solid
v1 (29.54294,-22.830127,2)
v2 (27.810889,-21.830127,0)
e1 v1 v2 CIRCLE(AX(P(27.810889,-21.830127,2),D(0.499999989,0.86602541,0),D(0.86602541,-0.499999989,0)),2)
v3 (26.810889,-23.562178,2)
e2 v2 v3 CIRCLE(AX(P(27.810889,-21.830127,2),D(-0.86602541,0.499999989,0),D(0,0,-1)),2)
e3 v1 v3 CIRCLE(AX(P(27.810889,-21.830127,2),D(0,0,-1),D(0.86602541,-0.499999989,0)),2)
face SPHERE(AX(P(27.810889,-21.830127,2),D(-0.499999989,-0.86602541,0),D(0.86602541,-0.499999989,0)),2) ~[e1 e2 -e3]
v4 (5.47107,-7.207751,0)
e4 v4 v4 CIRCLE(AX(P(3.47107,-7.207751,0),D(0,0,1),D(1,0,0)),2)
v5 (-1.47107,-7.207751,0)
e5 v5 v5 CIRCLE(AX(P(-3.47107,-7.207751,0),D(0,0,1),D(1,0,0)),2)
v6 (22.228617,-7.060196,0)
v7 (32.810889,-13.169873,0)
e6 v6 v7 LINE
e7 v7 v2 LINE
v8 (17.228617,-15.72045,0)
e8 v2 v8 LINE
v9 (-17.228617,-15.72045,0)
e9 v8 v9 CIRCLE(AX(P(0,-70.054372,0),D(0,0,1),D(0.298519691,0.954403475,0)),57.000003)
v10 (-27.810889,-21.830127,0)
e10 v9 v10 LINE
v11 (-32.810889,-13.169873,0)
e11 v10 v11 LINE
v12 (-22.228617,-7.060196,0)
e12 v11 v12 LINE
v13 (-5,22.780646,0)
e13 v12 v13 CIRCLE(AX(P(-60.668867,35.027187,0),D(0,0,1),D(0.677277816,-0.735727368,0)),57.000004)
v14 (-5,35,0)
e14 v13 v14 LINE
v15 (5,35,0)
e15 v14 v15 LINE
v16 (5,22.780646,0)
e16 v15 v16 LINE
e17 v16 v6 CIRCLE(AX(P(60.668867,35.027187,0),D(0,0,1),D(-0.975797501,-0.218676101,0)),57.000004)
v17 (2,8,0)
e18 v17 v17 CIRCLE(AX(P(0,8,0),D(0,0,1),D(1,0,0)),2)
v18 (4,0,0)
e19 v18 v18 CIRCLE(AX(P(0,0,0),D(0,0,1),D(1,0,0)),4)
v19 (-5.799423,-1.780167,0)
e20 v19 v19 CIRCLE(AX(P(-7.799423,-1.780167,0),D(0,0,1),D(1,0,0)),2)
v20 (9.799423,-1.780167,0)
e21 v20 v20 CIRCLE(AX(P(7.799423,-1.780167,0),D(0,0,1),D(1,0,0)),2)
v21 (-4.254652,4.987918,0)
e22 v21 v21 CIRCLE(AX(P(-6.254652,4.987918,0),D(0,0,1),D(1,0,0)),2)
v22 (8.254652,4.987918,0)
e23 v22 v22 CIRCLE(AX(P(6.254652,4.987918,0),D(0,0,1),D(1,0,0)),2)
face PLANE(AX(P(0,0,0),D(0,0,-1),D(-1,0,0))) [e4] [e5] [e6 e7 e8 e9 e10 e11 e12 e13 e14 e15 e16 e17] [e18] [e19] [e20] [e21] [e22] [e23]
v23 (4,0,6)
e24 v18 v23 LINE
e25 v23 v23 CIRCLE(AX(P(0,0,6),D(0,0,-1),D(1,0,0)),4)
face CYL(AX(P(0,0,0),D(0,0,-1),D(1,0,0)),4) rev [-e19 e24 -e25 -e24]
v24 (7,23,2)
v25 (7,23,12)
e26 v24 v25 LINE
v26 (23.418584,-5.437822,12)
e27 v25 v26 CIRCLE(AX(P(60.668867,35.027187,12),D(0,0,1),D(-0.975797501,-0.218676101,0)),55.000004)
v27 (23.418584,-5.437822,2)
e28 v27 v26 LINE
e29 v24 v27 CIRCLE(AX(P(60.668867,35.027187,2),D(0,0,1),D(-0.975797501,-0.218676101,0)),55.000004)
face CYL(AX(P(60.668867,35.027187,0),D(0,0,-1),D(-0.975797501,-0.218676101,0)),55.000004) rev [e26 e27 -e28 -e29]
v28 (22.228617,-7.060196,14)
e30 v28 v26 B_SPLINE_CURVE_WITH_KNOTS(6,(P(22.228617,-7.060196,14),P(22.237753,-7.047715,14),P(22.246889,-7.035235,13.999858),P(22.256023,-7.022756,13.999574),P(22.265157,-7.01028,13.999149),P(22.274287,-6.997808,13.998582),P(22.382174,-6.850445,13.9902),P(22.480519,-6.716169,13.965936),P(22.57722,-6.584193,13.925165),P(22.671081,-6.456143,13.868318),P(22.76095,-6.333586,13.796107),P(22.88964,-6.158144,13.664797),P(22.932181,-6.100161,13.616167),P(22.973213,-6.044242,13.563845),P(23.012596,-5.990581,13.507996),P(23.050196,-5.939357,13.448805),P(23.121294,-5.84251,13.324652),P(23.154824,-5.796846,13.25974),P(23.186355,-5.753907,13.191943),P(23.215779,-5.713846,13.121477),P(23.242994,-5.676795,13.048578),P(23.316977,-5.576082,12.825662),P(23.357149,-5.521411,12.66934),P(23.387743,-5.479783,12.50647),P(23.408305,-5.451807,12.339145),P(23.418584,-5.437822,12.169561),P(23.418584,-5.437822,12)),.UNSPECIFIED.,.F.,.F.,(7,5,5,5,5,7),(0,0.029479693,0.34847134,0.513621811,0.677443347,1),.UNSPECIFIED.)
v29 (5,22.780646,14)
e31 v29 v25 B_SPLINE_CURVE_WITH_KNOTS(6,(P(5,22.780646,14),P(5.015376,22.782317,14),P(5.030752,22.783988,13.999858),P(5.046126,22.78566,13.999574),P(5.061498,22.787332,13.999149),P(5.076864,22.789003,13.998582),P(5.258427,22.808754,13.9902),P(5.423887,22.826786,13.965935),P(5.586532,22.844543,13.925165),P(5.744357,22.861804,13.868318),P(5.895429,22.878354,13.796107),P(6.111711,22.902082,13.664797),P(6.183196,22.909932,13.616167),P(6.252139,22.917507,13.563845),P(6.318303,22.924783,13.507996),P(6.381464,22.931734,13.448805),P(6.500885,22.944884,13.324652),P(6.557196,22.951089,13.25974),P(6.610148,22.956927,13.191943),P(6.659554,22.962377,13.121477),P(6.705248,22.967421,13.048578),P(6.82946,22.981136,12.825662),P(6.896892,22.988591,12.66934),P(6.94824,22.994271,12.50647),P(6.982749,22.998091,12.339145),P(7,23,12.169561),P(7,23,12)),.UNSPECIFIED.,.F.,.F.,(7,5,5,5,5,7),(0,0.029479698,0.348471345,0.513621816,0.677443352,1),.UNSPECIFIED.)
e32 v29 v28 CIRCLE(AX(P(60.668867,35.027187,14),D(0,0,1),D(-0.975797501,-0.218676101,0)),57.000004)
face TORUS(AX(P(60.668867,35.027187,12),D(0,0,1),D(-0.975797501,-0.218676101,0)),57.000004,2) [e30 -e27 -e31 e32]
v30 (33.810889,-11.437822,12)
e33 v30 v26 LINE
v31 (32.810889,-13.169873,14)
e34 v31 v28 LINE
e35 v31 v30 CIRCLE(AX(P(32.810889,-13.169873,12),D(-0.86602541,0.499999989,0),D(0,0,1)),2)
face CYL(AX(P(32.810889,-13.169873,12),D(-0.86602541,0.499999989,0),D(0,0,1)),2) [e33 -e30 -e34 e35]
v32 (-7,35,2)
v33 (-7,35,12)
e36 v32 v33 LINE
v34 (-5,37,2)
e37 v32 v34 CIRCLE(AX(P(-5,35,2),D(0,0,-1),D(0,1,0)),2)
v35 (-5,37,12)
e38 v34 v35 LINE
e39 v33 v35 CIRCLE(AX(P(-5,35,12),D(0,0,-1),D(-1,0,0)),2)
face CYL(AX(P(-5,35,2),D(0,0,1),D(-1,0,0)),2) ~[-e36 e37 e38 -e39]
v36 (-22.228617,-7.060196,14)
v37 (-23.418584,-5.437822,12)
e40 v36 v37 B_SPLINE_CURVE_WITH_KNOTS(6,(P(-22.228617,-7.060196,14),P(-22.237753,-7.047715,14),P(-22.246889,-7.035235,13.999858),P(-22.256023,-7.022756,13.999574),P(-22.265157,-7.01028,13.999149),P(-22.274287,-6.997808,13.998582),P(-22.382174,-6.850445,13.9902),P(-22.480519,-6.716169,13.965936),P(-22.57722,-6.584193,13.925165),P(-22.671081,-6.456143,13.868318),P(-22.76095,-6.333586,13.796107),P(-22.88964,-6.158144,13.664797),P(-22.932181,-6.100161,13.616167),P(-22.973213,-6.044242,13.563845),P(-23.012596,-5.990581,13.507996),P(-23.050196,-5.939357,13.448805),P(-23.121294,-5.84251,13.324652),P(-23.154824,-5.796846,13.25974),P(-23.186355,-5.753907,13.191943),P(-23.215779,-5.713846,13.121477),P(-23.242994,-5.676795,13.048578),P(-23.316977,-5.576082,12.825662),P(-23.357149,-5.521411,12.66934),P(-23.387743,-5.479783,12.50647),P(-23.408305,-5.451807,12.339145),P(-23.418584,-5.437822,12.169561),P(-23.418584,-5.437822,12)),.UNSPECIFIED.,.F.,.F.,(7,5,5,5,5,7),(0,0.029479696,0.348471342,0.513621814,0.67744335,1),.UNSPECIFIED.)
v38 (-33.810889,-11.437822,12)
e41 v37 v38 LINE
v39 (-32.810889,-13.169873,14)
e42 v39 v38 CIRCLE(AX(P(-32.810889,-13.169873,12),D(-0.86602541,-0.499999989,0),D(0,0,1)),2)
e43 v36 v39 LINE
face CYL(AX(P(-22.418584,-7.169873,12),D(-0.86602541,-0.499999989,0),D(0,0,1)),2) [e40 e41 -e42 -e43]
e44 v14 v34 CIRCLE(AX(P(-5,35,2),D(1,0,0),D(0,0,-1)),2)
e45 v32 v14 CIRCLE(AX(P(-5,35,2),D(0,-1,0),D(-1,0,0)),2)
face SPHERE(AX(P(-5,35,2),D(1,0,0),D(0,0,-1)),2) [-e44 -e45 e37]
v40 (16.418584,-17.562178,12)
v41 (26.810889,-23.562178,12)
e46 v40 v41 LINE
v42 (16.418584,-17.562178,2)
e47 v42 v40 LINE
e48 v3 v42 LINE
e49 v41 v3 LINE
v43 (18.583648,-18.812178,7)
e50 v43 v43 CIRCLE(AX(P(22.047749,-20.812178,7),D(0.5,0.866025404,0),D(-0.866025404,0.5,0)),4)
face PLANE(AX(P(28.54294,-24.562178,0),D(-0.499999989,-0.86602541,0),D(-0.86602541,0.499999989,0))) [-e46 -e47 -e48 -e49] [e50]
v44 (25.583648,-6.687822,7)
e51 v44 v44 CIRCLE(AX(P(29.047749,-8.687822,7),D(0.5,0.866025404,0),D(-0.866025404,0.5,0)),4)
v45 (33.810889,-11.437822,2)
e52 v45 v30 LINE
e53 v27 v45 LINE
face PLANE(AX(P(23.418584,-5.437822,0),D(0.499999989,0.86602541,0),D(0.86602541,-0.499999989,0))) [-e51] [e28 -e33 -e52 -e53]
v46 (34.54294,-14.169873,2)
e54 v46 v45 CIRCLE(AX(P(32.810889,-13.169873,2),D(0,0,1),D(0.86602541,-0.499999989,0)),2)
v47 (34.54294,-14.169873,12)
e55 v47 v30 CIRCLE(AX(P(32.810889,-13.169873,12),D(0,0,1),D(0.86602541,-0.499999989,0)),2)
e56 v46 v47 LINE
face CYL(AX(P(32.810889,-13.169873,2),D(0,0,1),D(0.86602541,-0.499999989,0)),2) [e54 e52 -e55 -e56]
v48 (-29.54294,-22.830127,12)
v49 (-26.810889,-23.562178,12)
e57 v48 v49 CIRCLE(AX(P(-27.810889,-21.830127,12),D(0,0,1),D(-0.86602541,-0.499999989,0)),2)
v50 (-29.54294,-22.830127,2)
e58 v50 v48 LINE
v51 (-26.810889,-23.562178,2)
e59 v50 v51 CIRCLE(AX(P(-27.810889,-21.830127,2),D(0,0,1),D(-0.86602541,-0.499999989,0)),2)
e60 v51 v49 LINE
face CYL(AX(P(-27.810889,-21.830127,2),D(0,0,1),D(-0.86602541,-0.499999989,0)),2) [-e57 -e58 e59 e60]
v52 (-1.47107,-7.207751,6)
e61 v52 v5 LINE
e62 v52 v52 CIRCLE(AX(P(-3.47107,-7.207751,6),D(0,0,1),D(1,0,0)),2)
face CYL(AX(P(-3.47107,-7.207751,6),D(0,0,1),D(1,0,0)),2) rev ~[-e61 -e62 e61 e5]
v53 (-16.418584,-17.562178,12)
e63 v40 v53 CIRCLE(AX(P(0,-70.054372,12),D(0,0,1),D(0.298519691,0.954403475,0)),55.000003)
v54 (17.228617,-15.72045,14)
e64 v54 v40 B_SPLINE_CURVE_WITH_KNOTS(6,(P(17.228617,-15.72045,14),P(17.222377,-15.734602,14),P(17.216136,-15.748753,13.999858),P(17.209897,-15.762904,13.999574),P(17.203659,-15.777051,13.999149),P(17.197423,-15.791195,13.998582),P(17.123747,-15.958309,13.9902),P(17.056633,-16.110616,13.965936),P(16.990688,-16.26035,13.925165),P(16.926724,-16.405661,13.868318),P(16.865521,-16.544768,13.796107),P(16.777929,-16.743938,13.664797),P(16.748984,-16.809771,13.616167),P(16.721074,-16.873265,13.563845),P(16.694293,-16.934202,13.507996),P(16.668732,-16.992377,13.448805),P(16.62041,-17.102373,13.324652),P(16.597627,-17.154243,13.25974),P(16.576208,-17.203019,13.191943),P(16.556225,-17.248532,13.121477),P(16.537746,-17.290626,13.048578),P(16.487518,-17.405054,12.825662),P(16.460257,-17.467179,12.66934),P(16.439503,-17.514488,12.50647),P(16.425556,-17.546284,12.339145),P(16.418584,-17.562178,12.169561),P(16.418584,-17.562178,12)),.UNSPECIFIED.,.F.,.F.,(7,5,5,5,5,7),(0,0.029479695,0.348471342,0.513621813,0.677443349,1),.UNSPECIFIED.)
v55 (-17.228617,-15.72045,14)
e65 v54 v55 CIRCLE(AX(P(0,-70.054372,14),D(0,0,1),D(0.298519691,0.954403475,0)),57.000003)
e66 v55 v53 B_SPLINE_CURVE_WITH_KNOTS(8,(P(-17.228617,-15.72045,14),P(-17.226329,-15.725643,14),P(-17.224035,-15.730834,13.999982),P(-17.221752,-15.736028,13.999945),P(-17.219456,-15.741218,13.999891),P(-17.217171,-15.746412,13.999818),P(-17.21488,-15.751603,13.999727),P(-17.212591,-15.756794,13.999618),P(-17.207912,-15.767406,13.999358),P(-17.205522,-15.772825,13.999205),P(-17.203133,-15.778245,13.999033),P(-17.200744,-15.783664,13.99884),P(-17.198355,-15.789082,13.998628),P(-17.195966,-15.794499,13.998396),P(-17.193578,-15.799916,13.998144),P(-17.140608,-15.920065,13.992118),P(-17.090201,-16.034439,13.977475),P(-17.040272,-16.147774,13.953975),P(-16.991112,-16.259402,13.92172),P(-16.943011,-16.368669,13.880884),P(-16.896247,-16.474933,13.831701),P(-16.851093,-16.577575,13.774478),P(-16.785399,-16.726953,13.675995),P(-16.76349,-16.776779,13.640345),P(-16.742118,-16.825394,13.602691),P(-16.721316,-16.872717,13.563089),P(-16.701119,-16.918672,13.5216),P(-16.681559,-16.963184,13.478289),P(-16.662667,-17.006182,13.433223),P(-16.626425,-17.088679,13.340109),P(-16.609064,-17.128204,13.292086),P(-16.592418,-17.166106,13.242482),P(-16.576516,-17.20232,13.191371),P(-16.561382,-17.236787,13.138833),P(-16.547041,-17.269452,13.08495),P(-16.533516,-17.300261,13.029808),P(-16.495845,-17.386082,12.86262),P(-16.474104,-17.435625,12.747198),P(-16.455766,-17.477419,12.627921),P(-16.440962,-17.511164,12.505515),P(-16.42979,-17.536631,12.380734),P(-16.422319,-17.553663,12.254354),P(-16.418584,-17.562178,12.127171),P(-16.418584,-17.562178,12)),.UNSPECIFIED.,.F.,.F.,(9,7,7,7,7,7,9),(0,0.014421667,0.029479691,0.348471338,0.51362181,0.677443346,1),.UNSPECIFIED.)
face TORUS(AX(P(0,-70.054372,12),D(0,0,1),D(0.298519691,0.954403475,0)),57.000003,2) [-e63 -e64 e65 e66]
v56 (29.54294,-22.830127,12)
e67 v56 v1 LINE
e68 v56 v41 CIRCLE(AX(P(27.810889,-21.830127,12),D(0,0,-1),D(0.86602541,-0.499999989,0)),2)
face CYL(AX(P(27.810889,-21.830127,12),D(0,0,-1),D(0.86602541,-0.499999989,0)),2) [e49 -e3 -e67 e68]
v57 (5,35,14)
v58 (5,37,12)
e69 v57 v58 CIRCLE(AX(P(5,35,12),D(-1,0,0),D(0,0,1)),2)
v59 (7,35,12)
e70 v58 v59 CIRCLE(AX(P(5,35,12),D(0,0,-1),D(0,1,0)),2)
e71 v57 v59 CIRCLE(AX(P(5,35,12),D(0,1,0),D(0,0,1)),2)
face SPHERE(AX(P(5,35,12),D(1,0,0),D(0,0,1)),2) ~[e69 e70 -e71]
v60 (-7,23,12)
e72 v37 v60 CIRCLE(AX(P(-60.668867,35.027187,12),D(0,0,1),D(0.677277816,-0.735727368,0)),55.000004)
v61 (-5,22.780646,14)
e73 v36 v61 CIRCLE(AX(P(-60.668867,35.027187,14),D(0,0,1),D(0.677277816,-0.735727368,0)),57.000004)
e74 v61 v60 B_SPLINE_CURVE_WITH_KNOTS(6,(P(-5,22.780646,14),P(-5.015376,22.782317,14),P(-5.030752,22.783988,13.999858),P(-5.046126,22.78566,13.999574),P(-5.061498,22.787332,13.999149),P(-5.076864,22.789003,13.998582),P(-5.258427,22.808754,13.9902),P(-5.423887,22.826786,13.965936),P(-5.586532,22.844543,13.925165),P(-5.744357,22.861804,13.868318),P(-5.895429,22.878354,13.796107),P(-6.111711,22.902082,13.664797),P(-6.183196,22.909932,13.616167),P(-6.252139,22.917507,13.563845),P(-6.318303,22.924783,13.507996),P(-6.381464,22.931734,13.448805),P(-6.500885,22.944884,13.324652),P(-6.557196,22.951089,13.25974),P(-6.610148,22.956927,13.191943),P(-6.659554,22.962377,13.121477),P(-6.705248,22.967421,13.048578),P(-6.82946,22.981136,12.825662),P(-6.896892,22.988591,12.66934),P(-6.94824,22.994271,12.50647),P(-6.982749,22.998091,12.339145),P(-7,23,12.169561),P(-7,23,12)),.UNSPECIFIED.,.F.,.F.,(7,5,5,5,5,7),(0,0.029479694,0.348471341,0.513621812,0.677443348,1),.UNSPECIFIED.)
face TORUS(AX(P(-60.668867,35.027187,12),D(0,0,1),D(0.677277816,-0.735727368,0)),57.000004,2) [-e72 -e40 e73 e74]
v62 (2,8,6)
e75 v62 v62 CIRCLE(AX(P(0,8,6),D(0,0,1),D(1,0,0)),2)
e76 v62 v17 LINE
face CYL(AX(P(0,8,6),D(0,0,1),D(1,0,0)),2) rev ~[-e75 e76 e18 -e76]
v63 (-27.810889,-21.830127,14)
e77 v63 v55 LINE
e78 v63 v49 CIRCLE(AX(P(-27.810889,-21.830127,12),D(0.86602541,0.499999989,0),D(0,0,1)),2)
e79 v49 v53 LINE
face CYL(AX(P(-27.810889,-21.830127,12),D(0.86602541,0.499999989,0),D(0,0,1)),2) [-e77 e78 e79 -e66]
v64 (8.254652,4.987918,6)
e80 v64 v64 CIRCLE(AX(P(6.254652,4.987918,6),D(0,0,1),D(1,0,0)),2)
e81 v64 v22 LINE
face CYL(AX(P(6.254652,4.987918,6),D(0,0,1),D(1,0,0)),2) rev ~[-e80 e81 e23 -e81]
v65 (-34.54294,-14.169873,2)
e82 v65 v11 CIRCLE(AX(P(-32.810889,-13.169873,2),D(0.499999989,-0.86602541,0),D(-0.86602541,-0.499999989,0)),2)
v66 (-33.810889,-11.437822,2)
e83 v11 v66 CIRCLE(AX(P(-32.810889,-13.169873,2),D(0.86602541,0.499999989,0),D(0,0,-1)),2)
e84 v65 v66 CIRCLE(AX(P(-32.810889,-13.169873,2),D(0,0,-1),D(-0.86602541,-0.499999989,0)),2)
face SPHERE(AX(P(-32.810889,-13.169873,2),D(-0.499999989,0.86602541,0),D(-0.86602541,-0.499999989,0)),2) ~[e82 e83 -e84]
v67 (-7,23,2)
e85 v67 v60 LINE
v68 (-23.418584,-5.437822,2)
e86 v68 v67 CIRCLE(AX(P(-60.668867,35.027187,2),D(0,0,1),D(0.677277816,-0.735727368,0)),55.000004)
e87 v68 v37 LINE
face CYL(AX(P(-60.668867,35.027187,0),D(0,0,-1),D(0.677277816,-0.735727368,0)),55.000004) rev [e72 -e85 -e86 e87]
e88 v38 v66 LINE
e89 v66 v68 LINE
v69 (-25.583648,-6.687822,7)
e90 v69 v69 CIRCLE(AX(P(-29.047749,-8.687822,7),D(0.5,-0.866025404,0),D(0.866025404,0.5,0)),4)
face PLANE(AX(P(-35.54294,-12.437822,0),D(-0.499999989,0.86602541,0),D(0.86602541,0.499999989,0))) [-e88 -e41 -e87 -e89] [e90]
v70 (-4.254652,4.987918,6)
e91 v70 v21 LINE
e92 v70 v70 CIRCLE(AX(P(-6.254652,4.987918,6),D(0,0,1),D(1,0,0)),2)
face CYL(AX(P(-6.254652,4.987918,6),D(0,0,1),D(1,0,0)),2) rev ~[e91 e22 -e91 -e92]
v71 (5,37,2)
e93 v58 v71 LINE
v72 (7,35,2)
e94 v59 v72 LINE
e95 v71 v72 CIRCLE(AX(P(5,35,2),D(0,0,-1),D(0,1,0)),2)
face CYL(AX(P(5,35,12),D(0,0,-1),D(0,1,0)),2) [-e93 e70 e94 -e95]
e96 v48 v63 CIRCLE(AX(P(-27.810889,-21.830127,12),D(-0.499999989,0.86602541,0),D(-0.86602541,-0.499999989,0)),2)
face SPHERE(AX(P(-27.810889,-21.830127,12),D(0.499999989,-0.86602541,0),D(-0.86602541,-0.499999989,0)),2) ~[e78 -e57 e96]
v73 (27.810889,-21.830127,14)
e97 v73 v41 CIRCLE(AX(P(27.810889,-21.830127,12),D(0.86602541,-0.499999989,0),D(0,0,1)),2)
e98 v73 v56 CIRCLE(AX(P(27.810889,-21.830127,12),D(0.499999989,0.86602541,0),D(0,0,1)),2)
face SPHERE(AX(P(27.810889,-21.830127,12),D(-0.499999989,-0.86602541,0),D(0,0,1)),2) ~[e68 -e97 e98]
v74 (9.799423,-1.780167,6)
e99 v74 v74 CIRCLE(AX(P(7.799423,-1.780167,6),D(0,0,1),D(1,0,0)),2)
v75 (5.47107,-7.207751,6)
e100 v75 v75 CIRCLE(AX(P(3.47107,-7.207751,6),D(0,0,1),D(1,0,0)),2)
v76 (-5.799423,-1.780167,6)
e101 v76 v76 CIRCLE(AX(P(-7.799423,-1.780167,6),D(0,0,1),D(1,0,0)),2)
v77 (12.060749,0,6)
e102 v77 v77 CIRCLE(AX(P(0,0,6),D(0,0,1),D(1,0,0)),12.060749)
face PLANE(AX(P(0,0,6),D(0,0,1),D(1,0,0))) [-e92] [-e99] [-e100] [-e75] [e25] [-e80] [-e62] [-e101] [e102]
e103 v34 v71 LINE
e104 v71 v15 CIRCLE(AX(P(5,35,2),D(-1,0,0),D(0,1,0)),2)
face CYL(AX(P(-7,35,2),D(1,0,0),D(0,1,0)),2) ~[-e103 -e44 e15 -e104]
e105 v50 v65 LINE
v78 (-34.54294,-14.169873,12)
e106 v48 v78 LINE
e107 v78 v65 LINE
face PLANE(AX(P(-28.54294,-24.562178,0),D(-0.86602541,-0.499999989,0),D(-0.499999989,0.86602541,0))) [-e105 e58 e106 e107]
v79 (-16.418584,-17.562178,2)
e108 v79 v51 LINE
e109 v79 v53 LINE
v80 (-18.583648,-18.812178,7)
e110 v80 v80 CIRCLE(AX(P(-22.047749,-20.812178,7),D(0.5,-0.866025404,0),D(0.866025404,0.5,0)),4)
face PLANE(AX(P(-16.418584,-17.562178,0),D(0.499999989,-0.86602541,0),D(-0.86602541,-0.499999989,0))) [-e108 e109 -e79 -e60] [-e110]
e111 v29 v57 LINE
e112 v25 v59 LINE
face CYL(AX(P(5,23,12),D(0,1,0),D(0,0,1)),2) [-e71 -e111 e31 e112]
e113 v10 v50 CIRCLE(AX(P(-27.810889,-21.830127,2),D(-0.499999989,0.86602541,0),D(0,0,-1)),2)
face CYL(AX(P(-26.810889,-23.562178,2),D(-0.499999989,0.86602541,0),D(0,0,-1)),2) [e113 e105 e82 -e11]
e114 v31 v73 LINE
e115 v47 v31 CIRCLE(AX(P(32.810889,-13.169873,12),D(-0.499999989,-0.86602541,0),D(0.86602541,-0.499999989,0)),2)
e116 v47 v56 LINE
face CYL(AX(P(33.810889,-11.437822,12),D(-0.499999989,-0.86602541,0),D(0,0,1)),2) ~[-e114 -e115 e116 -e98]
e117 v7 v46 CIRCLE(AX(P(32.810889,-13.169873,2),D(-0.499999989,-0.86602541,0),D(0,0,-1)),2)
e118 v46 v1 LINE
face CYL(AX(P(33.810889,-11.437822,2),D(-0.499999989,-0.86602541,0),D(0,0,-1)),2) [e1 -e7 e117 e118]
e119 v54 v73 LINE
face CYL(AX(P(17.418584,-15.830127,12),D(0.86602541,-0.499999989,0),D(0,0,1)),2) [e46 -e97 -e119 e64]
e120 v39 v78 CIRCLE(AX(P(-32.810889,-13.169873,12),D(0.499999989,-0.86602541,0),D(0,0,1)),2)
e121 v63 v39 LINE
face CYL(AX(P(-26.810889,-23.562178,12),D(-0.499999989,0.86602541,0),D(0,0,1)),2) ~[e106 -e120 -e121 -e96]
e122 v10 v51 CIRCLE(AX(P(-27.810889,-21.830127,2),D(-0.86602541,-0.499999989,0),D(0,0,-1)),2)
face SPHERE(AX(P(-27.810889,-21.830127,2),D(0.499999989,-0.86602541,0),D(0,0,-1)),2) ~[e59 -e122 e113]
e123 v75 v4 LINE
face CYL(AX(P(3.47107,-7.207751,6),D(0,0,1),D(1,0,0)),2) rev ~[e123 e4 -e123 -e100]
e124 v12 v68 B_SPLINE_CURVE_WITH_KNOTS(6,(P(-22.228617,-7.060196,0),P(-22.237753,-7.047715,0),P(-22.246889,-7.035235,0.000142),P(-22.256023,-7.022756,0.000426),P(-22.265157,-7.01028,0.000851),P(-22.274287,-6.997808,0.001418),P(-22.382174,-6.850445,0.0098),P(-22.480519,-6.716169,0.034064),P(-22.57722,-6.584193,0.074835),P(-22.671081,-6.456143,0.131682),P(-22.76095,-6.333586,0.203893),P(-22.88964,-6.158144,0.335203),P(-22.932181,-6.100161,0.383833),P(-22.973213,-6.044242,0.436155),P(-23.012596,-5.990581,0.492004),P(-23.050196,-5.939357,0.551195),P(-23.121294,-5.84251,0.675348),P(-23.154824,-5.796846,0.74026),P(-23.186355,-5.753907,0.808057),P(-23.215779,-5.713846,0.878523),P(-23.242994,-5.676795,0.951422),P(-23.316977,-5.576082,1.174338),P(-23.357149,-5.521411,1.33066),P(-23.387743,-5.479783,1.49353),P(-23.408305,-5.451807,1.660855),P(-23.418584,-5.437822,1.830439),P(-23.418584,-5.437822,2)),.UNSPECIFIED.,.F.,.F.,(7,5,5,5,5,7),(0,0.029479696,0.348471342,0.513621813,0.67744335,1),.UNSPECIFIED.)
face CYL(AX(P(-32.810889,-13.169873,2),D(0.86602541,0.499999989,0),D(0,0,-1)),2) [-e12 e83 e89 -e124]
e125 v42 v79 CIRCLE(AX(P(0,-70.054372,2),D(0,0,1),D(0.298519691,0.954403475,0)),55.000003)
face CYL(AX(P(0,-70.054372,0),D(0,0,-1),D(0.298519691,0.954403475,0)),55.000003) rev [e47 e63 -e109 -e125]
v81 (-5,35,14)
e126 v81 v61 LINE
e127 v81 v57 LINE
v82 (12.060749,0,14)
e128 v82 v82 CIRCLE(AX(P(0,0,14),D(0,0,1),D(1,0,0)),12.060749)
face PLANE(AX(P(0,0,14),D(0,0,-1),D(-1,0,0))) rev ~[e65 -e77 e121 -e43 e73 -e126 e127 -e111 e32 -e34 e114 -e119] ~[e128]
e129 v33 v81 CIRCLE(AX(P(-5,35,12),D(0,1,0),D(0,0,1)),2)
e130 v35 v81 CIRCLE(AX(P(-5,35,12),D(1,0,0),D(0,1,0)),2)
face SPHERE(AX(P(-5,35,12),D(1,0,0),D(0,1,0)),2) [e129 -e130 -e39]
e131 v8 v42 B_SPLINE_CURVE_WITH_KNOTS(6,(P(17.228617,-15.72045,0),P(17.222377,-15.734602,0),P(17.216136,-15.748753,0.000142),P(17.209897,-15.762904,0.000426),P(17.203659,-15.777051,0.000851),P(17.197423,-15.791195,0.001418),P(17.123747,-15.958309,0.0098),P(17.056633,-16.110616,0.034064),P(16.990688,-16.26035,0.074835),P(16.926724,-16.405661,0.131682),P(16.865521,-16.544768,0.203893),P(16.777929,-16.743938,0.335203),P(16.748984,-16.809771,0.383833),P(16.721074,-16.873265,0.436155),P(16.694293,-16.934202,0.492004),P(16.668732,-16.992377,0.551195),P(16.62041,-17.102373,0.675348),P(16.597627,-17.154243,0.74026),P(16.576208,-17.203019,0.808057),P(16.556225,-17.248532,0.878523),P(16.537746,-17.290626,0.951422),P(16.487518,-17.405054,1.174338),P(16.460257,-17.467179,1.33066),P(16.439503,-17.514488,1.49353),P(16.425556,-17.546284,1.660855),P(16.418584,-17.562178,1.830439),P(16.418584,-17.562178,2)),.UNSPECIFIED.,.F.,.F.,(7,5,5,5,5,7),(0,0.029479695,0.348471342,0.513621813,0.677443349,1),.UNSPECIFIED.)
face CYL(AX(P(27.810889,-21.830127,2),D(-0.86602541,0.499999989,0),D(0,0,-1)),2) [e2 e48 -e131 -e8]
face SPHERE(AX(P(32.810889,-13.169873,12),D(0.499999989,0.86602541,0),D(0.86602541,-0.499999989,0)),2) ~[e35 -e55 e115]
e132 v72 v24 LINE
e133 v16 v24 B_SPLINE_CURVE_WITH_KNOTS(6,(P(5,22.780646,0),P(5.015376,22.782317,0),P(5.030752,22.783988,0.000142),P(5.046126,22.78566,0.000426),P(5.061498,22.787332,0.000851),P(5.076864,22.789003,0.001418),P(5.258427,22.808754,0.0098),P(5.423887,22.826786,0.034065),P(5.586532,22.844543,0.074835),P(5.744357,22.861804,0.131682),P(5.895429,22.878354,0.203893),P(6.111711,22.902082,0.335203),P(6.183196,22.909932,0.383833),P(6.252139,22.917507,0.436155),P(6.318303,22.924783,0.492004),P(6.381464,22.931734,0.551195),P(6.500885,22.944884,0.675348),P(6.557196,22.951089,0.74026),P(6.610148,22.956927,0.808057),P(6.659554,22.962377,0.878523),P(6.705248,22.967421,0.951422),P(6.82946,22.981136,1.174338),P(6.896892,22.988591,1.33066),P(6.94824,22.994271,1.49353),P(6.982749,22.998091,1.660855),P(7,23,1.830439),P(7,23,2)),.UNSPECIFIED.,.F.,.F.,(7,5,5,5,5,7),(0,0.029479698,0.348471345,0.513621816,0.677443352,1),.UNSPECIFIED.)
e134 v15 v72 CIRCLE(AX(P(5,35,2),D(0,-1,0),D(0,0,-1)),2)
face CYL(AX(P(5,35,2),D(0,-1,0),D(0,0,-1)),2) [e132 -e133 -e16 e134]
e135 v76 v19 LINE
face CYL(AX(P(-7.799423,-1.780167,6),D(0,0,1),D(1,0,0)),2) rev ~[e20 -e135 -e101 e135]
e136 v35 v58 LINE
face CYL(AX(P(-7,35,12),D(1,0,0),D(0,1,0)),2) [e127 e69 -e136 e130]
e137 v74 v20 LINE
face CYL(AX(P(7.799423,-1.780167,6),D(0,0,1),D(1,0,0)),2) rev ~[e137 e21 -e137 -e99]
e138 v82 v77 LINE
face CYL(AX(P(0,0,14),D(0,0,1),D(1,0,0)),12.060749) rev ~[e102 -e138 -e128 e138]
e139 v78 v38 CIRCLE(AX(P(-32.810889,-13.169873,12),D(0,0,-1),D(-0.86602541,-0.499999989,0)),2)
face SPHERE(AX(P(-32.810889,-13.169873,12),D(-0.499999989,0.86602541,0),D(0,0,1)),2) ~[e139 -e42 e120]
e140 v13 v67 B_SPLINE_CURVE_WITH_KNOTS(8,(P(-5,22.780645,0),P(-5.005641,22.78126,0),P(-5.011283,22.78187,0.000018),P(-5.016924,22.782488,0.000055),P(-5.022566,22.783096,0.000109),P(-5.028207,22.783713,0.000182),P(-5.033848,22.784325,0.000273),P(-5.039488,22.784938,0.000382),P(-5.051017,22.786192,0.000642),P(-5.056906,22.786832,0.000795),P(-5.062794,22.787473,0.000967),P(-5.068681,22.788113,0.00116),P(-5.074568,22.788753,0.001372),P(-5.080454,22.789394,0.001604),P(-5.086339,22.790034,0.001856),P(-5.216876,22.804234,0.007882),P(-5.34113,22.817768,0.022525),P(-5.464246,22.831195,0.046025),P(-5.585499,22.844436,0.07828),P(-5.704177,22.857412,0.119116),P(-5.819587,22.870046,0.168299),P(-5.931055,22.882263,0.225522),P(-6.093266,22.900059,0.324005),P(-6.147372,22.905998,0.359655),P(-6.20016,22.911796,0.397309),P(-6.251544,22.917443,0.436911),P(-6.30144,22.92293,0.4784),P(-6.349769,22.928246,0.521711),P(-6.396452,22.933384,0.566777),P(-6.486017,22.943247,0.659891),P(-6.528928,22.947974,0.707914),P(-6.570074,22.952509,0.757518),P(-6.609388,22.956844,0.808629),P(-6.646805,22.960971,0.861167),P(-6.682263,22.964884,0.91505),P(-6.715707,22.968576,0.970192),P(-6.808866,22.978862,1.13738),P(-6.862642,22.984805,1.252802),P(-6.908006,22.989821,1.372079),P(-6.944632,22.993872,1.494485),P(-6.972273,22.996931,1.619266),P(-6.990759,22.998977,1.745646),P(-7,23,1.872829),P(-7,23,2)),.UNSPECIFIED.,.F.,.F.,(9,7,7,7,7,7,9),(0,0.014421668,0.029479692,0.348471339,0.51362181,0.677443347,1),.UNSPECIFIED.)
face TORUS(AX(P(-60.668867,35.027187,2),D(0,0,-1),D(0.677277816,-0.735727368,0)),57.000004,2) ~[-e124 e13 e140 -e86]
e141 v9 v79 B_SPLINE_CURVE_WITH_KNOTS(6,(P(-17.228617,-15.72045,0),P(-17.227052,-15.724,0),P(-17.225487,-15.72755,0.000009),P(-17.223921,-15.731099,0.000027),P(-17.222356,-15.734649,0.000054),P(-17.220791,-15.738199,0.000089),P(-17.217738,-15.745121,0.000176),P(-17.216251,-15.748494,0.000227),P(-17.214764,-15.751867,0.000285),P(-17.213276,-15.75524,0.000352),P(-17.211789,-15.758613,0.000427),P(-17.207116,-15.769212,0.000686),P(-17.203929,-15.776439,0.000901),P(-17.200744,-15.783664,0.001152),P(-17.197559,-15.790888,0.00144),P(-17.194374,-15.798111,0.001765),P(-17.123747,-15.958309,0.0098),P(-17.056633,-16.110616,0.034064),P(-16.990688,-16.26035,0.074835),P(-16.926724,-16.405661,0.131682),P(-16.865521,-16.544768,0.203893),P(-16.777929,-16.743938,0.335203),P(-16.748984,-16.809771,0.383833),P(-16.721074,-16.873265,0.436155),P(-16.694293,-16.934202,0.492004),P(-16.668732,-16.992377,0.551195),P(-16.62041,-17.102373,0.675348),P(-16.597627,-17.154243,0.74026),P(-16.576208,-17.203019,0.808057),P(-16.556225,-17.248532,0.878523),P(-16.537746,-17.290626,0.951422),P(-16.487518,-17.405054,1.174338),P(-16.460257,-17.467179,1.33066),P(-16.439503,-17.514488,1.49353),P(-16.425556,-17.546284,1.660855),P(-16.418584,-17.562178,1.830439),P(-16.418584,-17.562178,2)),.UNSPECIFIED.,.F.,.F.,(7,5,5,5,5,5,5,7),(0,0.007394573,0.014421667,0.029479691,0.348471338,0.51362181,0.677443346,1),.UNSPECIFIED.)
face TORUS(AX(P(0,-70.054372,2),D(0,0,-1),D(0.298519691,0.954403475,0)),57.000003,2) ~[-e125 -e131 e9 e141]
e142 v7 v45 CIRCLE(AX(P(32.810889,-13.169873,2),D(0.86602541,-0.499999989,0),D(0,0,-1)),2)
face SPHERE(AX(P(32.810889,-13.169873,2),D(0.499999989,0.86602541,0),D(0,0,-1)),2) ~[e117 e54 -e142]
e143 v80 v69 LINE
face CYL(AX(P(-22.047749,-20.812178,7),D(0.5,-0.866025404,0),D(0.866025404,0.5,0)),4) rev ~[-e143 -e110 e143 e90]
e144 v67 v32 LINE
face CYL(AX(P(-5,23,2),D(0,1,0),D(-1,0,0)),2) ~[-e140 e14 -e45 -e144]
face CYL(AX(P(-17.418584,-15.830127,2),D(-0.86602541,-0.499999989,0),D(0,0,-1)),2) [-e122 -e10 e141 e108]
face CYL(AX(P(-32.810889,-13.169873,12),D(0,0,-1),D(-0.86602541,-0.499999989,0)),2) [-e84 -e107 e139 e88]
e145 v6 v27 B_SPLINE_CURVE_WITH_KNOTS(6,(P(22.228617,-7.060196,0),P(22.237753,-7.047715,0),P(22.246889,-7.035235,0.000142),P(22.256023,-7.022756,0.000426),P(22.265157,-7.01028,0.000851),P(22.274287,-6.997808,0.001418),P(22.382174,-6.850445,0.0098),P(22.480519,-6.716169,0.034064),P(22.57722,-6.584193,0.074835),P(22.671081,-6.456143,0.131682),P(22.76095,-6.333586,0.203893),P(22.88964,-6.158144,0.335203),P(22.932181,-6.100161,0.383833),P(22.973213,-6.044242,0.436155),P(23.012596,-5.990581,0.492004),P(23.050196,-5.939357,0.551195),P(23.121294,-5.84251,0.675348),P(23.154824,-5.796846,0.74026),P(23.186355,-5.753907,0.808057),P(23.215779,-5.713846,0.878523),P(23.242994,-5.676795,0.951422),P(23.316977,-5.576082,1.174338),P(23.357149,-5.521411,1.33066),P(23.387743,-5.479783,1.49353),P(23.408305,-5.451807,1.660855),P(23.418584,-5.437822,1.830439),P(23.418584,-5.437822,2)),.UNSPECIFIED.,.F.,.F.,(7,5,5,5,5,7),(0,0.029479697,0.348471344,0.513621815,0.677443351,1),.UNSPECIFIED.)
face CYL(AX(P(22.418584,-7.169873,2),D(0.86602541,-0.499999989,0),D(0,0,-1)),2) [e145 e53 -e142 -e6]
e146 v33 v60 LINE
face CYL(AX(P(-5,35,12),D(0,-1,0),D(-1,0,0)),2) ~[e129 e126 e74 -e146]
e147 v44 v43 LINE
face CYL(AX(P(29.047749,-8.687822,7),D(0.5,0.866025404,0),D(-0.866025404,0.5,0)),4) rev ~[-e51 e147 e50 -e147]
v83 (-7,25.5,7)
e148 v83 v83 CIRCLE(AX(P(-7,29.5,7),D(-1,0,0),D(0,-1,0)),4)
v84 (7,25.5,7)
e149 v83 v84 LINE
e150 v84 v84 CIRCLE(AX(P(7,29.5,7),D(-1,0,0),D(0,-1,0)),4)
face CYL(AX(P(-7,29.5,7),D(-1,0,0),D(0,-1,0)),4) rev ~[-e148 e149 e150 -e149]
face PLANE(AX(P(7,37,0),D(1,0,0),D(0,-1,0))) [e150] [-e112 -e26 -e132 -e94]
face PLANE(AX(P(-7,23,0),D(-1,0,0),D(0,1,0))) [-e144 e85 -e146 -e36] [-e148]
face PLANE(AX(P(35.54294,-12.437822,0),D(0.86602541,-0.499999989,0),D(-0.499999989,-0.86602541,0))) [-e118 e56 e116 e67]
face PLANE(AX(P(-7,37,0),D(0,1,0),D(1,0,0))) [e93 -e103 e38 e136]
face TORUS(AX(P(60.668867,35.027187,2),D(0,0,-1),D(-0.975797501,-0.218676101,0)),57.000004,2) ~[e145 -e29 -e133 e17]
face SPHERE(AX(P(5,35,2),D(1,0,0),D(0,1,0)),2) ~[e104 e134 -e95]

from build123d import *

# Parameters (mm, degrees)
SKETCH2_R           = 4
BOSS_EXTRUDE1_DEPTH = 14
SKETCH7_R           = 12.060749
CUT_EXTRUDE4_DEPTH  = 8
SKETCH8_R           = 2
CUT_EXTRUDE5_DEPTH  = 8
FILLET2_R           = 2
CUT_EXTRUDE6_REACH  = 53.745
SKETCH10_R          = 4
FILLET4_R           = 2
CIRPATTERN1_COUNT   = 3


with BuildPart() as part:
    # Sketch2 → Boss-Extrude1 (new body)
    with BuildSketch(Plane.XY):
        with BuildLine():
            Line((-7, 23), (-7, 37))
            Line((-7, 37), (7, 37))
            Line((7, 37), (7, 23))
            ThreePointArc((7, 23), (13.037466, 7.527184), (23.418584, -5.437822))
            Line((23.418584, -5.437822), (35.54294, -12.437822))
            Line((35.54294, -12.437822), (28.54294, -24.562178))
            Line((28.54294, -24.562178), (16.418584, -17.562178))
            ThreePointArc((16.418584, -17.562178), (0, -15.054369), (-16.418584, -17.562178))
            Line((-16.418584, -17.562178), (-28.54294, -24.562178))
            Line((-28.54294, -24.562178), (-35.54294, -12.437822))
            Line((-35.54294, -12.437822), (-23.418584, -5.437822))
            ThreePointArc((-23.418584, -5.437822), (-13.037466, 7.527184), (-7, 23))
        make_face()
        Circle(SKETCH2_R, mode=Mode.SUBTRACT)
    extrude(amount=BOSS_EXTRUDE1_DEPTH)

    # Sketch7 → Cut-Extrude4 (cut)
    with BuildSketch(Plane.XY.offset(14)):
        Circle(SKETCH7_R)
    extrude(amount=-CUT_EXTRUDE4_DEPTH, mode=Mode.SUBTRACT)

    # Sketch8 → Cut-Extrude5 (cut)
    with BuildSketch(Plane.XY.offset(6)):
        with Locations((0, 8)):
            Circle(SKETCH8_R)
        with Locations((6.254652, 4.987918)):
            Circle(SKETCH8_R)
        with Locations((7.799423, -1.780167)):
            Circle(SKETCH8_R)
        with Locations((3.47107, -7.207751)):
            Circle(SKETCH8_R)
        with Locations((-3.47107, -7.207751)):
            Circle(SKETCH8_R)
        with Locations((-7.799423, -1.780167)):
            Circle(SKETCH8_R)
        with Locations((-6.254652, 4.987918)):
            Circle(SKETCH8_R)
    extrude(amount=-CUT_EXTRUDE5_DEPTH, mode=Mode.SUBTRACT)

    # Fillet2
    fillet2_edges = [part.edges().sort_by_distance(p)[0] for p in [
        (32.04294, -18.5, 0),
        (-32.04294, -18.5, 0),
        (0, 37, 0),
        (-32.04294, -18.5, 14),
        (32.04294, -18.5, 14),
        (0, 37, 14),
    ]]
    fillet(fillet2_edges, radius=FILLET2_R)

    # Sketch10 → Cut-Extrude6 (cut, up to next)
    with BuildSketch(Plane(origin=(3.5, 6.062178, 0), x_dir=(0.866025403784439, -0.4999999999999995, 0), z_dir=(0.49999999999999944, 0.8660254037844389, 0)), mode=Mode.PRIVATE) as cut_extrude6_sk1:
        with Locations(Location((29.5, -7, 0), (0, 0, 180))):
            Circle(SKETCH10_R)
    cut_extrude6_tool1 = extrude(cut_extrude6_sk1.sketch, amount=-CUT_EXTRUDE6_REACH, mode=Mode.PRIVATE) & part.part
    cut_extrude6 = cut_extrude6_tool1.solids().sort_by_distance((29.047749, -8.687822, 7))[0]
    add(cut_extrude6, mode=Mode.SUBTRACT)

    # Fillet4
    fillet4_edges = [part.edges().sort_by_distance(p)[0] for p in [
        (7, 29, 0),
        (13.037466, 7.527184, 0),
        (-13.037466, 7.527184, 14),
        (21.614737, -20.562178, 0),
        (0, -15.054369, 0),
        (-28.614737, -8.437822, 0),
        (-13.037466, 7.527184, 0),
        (-28.614737, -8.437822, 14),
        (0, -15.054369, 14),
        (21.614737, -20.562178, 14),
        (13.037466, 7.527184, 14),
        (7, 29, 14),
        (-7, 37, 7),
        (7, 37, 7),
        (-7, 29, 0),
        (-7, 29, 14),
        (-7, 36.414214, 13.414214),
        (-7, 36.414214, 0.585786),
        (28.614737, -8.437822, 0),
        (-21.614737, -20.562178, 0),
        (7, 36.414214, 13.414214),
        (7, 36.414214, 0.585786),
        (-21.614737, -20.562178, 14),
        (28.614737, -8.437822, 14),
        (-28.54294, -24.562178, 7),
        (-35.54294, -12.437822, 7),
        (-28.035634, -24.269285, 13.414214),
        (-28.035634, -24.269285, 0.585786),
        (-35.035634, -12.144929, 13.414214),
        (-35.035634, -12.144929, 0.585786),
        (35.54294, -12.437822, 7),
        (28.54294, -24.562178, 7),
        (35.035634, -12.144929, 13.414214),
        (35.035634, -12.144929, 0.585786),
        (28.035634, -24.269285, 13.414214),
        (28.035634, -24.269285, 0.585786),
    ]]
    fillet(fillet4_edges, radius=FILLET4_R)

    # CirPattern1: Cut-Extrude6 ×3 about axis
    cirpattern1_axis = Axis((0, 0, 6), (0, 0, 1))
    for i in range(1, CIRPATTERN1_COUNT):
        add(cut_extrude6.rotate(cirpattern1_axis, i * 360 / CIRPATTERN1_COUNT), mode=Mode.SUBTRACT)


solid = part.part
